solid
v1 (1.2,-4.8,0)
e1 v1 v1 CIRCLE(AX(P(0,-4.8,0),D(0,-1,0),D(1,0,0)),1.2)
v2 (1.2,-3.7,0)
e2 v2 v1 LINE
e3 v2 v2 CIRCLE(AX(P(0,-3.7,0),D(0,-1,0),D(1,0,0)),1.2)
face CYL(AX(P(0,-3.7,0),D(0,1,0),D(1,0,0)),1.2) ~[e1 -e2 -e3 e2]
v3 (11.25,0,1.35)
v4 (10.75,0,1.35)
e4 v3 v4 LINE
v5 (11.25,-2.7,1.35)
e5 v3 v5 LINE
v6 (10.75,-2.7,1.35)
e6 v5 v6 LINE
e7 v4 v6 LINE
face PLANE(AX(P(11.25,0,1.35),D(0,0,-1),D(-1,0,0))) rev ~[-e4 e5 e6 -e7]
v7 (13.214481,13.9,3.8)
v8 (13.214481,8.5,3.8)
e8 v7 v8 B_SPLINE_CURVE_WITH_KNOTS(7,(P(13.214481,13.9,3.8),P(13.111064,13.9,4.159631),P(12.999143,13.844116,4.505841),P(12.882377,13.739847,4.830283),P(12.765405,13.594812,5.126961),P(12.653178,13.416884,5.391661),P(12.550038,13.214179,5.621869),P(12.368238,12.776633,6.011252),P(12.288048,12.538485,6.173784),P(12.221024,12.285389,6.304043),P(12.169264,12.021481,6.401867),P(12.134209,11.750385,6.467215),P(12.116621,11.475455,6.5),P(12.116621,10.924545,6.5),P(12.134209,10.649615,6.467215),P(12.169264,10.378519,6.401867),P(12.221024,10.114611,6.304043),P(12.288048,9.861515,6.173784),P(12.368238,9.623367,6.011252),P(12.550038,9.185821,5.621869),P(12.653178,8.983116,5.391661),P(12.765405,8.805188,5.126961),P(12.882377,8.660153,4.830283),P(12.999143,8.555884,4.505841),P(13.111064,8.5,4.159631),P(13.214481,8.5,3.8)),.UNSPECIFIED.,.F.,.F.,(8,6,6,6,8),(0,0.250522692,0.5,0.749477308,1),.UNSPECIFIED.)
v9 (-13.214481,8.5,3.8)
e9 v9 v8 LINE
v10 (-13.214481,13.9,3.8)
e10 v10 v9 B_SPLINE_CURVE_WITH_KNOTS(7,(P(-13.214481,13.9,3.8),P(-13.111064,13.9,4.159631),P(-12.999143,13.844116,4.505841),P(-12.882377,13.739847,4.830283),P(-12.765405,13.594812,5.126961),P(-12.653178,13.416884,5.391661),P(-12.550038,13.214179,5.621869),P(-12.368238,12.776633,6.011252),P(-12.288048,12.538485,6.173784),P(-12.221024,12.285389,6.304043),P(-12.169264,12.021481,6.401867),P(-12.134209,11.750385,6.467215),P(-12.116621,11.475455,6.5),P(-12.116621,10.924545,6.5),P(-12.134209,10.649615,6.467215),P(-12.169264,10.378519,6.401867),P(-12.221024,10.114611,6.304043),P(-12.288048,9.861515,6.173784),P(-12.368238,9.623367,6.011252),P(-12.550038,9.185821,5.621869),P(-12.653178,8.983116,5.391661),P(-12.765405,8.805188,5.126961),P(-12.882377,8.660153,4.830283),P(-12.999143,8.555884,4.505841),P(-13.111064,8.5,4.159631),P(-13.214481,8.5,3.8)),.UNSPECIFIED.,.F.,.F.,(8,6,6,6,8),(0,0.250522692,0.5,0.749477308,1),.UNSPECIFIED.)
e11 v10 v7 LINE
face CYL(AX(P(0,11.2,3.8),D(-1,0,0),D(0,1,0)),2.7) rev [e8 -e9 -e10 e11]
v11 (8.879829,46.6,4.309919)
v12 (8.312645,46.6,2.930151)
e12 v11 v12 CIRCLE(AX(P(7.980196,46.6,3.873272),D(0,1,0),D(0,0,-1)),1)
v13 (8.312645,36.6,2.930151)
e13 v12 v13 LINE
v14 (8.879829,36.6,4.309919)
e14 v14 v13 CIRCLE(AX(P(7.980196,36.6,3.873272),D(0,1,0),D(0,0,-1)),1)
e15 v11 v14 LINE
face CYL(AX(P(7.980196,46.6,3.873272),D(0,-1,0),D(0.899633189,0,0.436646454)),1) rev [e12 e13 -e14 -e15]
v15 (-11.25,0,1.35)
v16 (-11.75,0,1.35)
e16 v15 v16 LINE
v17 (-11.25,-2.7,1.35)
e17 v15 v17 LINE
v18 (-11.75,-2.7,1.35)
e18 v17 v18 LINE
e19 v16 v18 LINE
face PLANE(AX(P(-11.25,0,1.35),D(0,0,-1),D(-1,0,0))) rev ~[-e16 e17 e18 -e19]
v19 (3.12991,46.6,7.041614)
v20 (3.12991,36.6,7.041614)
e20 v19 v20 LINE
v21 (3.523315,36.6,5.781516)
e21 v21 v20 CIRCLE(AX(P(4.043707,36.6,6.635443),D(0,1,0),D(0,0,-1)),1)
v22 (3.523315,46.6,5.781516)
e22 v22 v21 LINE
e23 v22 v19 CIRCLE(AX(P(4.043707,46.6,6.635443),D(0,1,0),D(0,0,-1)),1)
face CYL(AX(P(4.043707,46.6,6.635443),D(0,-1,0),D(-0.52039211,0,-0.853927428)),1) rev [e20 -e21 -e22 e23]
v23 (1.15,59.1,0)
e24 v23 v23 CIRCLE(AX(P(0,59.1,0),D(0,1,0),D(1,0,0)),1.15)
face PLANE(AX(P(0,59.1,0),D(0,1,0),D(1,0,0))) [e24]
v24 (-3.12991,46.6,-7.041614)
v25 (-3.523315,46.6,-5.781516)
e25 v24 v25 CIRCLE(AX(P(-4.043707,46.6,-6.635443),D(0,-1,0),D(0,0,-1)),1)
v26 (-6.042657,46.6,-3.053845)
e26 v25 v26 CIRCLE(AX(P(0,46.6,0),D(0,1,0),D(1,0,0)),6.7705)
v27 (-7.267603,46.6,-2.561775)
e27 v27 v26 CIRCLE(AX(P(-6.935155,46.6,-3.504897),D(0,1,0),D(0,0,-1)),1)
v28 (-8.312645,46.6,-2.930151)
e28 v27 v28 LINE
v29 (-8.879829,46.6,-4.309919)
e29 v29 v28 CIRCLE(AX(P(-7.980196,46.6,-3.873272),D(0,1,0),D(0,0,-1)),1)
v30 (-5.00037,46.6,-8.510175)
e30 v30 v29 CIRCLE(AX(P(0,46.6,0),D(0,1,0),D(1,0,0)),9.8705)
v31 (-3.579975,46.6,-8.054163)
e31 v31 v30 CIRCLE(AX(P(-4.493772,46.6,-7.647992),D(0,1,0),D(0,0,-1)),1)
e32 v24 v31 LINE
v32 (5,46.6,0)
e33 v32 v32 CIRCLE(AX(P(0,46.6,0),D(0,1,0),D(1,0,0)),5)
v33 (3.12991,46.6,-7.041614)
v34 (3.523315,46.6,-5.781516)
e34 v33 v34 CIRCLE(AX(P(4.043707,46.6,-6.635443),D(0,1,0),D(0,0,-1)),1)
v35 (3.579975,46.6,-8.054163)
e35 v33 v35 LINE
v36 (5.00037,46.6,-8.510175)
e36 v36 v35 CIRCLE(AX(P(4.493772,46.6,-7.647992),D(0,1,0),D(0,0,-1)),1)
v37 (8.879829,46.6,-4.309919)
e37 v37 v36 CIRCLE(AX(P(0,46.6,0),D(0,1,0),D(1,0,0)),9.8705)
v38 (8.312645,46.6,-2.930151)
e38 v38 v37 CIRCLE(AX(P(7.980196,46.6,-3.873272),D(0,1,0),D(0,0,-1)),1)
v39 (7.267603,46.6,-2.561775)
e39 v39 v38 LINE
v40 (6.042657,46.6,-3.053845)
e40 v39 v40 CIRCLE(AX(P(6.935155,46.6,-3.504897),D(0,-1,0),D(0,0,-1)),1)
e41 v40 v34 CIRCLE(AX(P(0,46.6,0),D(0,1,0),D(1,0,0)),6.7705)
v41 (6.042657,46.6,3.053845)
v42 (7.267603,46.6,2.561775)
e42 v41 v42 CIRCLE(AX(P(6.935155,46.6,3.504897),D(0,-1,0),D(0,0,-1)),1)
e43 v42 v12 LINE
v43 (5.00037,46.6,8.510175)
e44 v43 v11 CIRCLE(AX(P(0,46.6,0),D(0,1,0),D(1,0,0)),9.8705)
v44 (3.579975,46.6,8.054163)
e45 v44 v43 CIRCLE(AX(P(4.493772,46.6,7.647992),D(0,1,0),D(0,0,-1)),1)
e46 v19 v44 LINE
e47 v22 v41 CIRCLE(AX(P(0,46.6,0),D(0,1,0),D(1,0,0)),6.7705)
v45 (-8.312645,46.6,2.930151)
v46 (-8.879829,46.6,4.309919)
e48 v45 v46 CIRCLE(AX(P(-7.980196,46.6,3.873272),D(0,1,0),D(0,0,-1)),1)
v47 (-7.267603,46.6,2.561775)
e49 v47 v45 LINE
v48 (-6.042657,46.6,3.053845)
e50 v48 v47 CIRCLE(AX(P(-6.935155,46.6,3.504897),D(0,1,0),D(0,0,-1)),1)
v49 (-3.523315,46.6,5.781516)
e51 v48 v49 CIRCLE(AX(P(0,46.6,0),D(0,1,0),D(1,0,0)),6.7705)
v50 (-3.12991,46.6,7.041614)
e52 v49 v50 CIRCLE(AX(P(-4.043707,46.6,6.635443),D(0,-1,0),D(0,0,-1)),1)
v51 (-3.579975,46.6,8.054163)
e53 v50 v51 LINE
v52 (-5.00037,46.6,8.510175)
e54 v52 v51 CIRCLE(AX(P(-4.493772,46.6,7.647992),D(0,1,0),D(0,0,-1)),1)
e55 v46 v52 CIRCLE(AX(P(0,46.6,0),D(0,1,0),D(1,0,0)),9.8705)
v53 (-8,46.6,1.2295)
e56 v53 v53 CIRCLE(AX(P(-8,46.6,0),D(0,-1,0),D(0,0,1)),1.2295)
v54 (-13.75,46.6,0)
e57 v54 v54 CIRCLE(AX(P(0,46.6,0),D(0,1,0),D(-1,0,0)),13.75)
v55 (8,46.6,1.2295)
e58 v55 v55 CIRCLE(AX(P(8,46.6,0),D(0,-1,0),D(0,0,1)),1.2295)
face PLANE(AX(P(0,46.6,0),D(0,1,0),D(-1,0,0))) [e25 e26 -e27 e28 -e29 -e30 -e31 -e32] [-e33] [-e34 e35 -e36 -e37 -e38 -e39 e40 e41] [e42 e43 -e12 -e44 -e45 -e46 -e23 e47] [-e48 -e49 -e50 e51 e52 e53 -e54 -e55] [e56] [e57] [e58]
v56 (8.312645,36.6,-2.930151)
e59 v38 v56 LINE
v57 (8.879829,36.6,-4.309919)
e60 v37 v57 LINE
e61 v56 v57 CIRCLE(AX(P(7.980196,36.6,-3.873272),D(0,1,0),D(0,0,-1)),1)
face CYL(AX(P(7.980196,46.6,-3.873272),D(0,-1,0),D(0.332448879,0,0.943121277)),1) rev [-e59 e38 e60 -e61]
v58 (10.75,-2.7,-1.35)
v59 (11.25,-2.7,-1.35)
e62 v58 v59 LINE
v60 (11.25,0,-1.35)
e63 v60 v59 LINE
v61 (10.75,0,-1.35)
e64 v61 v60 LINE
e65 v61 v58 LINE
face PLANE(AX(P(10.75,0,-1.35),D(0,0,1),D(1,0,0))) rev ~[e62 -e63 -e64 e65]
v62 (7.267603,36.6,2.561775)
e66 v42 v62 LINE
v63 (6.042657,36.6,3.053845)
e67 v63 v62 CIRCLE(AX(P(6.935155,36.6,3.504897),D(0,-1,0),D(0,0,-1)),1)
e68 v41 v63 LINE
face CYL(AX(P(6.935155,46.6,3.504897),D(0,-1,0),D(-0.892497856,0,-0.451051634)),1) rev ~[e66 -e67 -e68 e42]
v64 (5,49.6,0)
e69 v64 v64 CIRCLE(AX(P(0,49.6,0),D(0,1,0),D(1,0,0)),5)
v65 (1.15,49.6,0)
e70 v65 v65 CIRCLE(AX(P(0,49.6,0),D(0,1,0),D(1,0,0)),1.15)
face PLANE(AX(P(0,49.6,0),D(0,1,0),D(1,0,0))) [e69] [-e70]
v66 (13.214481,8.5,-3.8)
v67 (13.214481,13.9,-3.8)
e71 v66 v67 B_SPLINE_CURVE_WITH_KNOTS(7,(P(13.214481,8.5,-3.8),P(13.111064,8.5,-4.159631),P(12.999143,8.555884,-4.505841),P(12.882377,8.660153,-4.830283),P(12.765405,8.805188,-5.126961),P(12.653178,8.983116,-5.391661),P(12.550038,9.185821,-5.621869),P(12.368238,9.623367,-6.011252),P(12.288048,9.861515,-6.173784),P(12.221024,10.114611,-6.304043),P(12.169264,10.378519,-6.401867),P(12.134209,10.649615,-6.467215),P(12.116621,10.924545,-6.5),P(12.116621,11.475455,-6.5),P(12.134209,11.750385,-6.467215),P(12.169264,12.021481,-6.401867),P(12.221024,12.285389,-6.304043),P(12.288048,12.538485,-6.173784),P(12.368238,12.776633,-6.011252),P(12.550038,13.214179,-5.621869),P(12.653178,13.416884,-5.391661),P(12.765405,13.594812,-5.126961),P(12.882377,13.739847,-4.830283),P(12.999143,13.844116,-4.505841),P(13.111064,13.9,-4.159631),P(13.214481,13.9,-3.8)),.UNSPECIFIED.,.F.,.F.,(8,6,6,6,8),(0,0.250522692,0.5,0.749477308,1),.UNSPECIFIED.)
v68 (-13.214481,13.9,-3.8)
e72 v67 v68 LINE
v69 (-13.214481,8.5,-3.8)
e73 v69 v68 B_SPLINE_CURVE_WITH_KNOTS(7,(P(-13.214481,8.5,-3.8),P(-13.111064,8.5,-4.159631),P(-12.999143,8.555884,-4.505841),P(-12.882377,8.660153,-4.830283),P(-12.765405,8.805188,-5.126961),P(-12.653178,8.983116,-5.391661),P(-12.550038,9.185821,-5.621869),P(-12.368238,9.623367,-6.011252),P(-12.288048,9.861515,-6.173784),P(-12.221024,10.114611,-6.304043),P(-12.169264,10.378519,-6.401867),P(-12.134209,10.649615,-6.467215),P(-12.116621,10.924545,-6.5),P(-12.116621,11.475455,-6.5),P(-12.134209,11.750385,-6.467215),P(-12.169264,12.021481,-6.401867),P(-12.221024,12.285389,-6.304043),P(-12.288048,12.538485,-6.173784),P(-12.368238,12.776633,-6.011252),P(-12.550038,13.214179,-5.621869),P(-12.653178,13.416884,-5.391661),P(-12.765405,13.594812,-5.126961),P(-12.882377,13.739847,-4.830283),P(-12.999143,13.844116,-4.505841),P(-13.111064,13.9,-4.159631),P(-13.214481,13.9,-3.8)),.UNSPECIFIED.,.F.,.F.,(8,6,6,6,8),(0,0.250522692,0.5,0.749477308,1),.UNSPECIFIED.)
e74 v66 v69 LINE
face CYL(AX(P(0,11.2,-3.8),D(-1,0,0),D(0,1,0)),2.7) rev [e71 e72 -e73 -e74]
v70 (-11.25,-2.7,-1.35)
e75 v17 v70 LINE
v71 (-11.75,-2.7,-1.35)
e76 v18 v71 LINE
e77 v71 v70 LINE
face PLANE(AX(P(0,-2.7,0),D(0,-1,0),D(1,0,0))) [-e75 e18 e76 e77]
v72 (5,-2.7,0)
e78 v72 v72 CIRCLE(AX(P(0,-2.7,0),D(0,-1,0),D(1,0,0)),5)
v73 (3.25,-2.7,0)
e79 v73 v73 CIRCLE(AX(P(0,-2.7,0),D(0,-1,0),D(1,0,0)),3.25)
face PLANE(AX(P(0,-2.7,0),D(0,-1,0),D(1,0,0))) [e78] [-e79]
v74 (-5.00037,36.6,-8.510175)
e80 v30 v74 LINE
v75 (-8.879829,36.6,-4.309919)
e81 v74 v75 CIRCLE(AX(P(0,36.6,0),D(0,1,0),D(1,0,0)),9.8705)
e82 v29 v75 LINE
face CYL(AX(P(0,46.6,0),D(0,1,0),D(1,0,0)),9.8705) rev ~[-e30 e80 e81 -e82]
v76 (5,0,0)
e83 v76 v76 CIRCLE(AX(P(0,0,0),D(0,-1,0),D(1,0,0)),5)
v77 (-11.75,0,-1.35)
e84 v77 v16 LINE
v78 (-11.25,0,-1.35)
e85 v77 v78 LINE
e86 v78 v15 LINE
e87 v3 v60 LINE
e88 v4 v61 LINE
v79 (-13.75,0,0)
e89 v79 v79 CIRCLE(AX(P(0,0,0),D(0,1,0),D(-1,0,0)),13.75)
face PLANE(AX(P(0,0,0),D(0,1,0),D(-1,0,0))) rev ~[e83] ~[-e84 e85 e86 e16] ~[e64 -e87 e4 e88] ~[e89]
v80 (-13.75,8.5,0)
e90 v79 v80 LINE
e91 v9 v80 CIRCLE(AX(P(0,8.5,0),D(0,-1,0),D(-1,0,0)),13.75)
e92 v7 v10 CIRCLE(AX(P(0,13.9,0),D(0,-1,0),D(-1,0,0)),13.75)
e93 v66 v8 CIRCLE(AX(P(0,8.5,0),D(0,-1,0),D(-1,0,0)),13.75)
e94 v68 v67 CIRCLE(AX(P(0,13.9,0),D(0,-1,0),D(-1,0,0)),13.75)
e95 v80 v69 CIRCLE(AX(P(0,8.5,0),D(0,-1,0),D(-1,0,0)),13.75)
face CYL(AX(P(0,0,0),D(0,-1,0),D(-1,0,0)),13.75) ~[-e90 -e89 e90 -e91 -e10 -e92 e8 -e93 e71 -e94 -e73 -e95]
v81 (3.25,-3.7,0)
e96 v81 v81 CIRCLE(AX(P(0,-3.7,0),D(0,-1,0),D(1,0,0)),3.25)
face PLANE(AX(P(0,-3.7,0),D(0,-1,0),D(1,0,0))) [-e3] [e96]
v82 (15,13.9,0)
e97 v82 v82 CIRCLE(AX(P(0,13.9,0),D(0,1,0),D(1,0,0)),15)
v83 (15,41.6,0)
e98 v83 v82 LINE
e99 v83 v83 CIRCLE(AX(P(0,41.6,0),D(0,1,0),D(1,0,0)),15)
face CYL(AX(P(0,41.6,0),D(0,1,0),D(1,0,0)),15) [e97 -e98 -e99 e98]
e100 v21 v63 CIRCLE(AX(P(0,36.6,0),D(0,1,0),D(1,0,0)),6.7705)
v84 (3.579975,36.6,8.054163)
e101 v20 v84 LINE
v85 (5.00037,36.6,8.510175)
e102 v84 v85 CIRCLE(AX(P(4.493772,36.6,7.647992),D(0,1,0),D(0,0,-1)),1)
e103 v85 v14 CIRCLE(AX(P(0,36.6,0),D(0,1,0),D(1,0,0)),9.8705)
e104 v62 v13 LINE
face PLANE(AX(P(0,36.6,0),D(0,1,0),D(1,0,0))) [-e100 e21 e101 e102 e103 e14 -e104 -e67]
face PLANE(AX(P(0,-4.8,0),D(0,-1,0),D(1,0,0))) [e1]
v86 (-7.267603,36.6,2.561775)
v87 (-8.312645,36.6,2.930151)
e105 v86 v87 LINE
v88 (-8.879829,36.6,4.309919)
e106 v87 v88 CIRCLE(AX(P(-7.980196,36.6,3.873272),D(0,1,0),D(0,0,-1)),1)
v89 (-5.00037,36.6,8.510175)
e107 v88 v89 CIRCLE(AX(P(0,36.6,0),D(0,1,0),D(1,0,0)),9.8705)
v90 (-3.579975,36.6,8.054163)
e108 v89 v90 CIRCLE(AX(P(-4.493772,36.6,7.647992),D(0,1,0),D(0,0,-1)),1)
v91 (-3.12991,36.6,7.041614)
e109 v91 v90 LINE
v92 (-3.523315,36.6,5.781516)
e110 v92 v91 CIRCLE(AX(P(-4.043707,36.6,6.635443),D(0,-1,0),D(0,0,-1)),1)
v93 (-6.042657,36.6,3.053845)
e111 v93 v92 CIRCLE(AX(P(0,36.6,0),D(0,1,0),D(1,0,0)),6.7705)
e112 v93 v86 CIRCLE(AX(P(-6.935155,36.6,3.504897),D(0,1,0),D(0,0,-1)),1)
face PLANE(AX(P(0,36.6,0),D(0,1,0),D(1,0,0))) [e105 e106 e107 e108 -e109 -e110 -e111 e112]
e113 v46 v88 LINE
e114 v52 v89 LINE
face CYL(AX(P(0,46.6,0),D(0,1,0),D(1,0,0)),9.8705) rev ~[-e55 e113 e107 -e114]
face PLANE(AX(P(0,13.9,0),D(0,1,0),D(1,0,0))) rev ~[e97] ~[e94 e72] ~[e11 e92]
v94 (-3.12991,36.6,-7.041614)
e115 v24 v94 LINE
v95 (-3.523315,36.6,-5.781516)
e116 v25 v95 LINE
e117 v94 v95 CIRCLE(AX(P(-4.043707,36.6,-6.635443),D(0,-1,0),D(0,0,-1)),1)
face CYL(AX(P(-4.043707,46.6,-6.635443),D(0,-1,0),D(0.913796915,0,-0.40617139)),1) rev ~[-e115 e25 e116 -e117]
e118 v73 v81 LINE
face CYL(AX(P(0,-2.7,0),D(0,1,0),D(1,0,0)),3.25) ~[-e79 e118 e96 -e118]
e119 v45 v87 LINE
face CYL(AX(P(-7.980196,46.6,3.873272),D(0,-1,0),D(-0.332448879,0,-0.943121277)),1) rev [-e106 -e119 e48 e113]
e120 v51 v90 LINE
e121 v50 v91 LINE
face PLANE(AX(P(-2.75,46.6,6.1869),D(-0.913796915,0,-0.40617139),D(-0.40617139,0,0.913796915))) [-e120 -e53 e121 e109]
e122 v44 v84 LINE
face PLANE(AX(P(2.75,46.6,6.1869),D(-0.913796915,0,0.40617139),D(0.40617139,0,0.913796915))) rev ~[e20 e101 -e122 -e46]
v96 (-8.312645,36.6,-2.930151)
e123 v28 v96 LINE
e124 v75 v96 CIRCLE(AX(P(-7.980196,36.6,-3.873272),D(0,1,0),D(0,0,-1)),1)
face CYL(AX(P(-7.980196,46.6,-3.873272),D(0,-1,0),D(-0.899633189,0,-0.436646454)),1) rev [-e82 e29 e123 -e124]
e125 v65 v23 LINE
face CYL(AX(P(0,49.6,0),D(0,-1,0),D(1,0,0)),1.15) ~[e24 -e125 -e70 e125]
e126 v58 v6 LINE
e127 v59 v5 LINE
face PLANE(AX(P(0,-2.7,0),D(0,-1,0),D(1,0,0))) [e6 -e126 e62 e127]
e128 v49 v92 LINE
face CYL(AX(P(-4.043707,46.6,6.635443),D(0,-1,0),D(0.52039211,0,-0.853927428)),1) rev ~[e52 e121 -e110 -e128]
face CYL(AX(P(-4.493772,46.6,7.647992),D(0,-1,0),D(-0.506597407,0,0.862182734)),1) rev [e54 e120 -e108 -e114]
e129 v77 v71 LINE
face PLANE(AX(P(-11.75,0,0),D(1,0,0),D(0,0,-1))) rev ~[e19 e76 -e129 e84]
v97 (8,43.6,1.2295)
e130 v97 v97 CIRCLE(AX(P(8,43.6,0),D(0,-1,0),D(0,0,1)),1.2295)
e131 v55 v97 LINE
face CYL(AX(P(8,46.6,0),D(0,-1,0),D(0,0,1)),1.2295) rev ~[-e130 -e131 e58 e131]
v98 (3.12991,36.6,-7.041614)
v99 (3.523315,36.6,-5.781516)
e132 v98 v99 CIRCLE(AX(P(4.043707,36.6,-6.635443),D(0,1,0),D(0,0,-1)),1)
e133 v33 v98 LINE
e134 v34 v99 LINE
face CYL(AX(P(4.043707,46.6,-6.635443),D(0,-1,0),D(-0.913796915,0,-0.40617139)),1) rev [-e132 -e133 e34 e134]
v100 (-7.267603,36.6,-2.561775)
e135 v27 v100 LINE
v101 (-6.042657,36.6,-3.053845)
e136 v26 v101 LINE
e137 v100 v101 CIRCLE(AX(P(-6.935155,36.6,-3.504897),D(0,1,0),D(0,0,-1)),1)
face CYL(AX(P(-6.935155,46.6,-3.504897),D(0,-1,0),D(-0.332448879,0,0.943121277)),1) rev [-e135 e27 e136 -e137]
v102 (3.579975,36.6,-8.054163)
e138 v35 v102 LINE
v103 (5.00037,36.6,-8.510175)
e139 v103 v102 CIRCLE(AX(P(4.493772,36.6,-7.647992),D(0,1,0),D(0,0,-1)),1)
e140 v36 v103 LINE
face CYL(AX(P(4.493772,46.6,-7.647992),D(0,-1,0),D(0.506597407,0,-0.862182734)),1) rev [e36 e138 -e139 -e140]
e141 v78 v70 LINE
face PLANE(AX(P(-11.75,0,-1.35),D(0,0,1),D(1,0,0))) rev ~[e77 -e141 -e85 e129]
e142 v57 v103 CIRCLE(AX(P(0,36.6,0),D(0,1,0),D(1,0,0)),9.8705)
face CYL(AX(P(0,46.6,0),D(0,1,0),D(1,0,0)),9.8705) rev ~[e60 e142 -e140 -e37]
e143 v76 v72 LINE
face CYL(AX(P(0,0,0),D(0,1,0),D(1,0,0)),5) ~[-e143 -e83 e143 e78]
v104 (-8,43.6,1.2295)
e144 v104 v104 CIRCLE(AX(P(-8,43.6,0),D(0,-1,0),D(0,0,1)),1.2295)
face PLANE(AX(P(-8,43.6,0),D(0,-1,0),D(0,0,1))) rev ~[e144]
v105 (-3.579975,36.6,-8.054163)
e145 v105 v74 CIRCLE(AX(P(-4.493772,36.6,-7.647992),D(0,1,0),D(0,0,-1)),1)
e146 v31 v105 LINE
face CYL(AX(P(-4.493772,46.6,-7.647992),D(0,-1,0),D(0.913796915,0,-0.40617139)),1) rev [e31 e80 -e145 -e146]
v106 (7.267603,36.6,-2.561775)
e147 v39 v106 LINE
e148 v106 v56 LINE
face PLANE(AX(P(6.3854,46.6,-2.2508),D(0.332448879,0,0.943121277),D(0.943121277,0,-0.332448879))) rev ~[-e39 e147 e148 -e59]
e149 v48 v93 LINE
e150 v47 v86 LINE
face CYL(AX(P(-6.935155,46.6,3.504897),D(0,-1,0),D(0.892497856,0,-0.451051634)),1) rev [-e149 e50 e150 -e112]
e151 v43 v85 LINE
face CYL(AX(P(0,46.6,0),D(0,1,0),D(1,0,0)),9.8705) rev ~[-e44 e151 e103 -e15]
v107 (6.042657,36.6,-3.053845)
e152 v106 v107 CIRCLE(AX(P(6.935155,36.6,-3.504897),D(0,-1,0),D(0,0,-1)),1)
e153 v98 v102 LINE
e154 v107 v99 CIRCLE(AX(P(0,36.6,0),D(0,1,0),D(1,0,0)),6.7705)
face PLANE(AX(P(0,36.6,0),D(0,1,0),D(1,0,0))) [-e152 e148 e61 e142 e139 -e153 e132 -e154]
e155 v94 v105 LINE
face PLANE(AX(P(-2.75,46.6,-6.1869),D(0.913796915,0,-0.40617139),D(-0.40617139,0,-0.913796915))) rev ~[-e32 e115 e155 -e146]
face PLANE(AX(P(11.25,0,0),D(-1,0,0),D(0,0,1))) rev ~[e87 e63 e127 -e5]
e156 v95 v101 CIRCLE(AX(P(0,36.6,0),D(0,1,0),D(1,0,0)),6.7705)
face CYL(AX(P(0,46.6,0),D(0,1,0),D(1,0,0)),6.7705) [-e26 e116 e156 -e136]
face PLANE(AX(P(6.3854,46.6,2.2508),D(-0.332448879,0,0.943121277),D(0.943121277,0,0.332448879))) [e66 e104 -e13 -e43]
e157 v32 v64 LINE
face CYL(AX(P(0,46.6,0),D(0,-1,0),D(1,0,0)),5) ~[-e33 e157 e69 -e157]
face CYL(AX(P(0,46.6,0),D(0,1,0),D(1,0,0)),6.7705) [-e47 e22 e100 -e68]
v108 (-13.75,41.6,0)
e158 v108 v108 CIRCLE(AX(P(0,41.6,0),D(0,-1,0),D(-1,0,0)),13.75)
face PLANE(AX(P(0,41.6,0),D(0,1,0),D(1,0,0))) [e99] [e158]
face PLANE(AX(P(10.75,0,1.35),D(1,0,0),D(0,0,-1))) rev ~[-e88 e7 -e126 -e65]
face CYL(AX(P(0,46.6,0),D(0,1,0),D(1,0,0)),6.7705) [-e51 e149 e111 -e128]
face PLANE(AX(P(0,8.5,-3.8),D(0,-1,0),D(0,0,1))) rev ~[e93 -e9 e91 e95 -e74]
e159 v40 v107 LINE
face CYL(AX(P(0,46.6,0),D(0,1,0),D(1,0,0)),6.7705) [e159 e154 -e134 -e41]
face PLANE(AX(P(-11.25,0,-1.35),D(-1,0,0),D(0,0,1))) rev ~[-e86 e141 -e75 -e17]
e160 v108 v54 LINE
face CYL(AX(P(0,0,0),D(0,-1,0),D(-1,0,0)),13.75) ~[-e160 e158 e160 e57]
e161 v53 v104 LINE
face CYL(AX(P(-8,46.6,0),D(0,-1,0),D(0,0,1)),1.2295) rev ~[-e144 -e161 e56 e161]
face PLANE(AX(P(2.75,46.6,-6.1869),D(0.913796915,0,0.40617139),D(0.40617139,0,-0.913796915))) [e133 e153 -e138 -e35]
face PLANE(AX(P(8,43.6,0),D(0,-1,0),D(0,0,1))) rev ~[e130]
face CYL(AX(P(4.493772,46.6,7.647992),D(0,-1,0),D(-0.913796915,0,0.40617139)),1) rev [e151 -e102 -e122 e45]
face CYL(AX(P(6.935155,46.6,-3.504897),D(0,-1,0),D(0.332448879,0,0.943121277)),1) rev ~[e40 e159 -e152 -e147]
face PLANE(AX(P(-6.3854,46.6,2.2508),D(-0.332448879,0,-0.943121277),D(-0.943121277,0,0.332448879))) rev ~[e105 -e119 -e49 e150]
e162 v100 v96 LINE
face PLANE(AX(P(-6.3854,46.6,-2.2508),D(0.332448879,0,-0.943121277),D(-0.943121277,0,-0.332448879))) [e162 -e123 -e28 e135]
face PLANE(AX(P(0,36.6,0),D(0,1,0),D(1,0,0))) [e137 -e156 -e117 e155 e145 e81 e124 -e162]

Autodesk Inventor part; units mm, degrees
ref_plane "YZ Plane" through (0, 0, 0) normal (1, 0, 0) x (0, 1, 0)
sketch "Sketch1" plane through (0, 0, 0) normal (0, 1, 0) x (-1, 0, 0)
  circle A0 centre (0, 0) radius 13.75
  dimension "d0" = 27.5
extrude "Extrusion1" add sketch "Sketch1" along normal blind 46.6
sketch "Sketch2" plane through (0, 46.6, 0) normal (0, 1, 0) x (1, 0, 0)
  circle A0 centre (0, 0) radius 13.75 projected
  circle A1 centre (0, 0) radius 5
  dimension "d3" = 10
extrude "Extrusion2" add sketch "Sketch2" along normal blind 3 contours A1
sketch "Sketch3" plane through (0, 46.6, 0) normal (0, 1, 0) x (1, 0, 0)
  circle A0 centre (0, 0) radius 5 projected
  circle A1 centre (0, 0) radius 5 projected
  circle A2 centre (0, 0) radius 13.75 projected
  circle A3 centre (0, 0) radius 13.75 projected
  line L0 (-13.75, 0) -> (13.75, 0)
  point P0 (-8, 0)
  point P1 (8, 0)
  dimension "d6" = 16
  dimension "d7" = 5.75
  dimension "d8" = 5.75
hole "Hole1" at (-8, 46.6, 0) at (8, 46.6, 0) direction (0, -1, 0) diameter 2.459 depth 3 thread size "M3x0.5" class "6H" standard "ISO Metric profile"
ref_plane "Work Plane1" through (0, 41.6, 0) normal (0, 1, 0) x (1, 0, 0)
sketch "Sketch4" plane through (0, 41.6, 0) normal (0, 1, 0) x (1, 0, 0)
  circle A0 centre (0, 0) radius 15
  dimension "d17" = 30
extrude "Extrusion3" add sketch "Sketch4" against normal blind 27.7
sketch "Sketch5" plane through (0, 0, 0) normal (0, -1, 0) x (1, 0, 0)
  circle A0 centre (0, 0) radius 5
  dimension "d20" = 10
extrude "Extrusion4" add sketch "Sketch5" along normal blind 2.7
sketch "Sketch6" plane through (0, 0, 0) normal (0, -1, 0) x (1, 0, 0)
  circle A0 centre (0, 0) radius 5 projected
  circle A1 centre (0, 0) radius 5 projected
  circle A2 centre (0, 0) radius 13.75 projected
  circle A3 centre (0, 0) radius 13.75 projected
  line L0 (13.75, 0) -> (-13.75, 0)
  line L1 (-11.25, 1.35) -> (-11.75, 1.35)
  line L2 (-11.75, 1.35) -> (-11.75, -1.35)
  line L3 (-11.75, -1.35) -> (-11.25, -1.35)
  line L4 (-11.25, -1.35) -> (-11.25, 1.35)
  line L5 (11.25, 1.35) -> (10.75, 1.35)
  line L6 (10.75, 1.35) -> (10.75, -1.35)
  line L7 (10.75, -1.35) -> (11.25, -1.35)
  line L8 (11.25, -1.35) -> (11.25, 1.35)
  dimension "d23" = 22
  dimension "d24" = 0.5
  dimension "d25" = 0.5
  dimension "d26" = 11.25
  dimension "d27" = 11.25
  dimension "d28" = 2.7
  dimension "d29" = 2.7
  dimension "d30" = 1.35
  dimension "d31" = 1.35
extrude "Extrusion5" add sketch "Sketch6" along normal up to surface (2.7 mm away) contours L6 L5 L8 L0 | L0 L8 L7 L6 | L4 L3 L2 L0 | L0 L2 L1 L4
sketch "Sketch7" plane through (0, 49.6, 0) normal (0, 1, 0) x (1, 0, 0)
  circle A0 centre (0, 0) radius 1.15
  dimension "d34" = 2.3
extrude "Extrusion6" add sketch "Sketch7" along normal blind 9.5
ref_plane "Work Plane2" through (0, 50.6, 0) normal (0, 1, 0) x (1, 0, 0)
sketch "Sketch10" plane through (0, 0, 0) normal (1, 0, 0) x (0, 1, 0)
  line L0 (0, -13.75) -> (0, 13.75) projected
  line L1 (13.9, 13.75) -> (13.9, -13.75) projected
  line L2 (8.5, 3.8) -> (13.9, 3.8)
  line L3 (13.9, 3.8) -> (13.9, -3.8)
  line L4 (13.9, -3.8) -> (8.5, -3.8)
  line L5 (8.5, -3.8) -> (8.5, 3.8)
  circle A0 centre (11.2, 3.8) radius 2.7
  circle A1 centre (11.2, -3.8) radius 2.7
  line L6 (0, 0) -> (13.9, 0)
  line L7 (13.9, 13.75) -> (13.9, -13.75) projected
  line L8 (0, -13.75) -> (13.9, -13.75) projected
  point P0 (11.2, -6.5)
  point P1 (11.2, 6.5)
  dimension "d57" = 8.5
  dimension "d59" = 0
  dimension "d60" = 5.4
  dimension "d61" = 13.9
  dimension "d65" = 3.8
  dimension "d66" = 3.8
  dimension "d80" = 5.4
  dimension "d81" = 5.4
  dimension "d82" = 2.7
  dimension "d83" = 2.7
  dimension "d84" = 13
extrude "Extrusion9" cut sketch "Sketch10" along normal mid plane 31.5 contours L6 L1 A1 L5 | L5 A0 L1 L6 | A1 L4 | L4 A1 | A0 L2 | L2 A0
sketch "Sketch12" plane through (0, 46.6, 0) normal (0, 1, 0) x (1, 0, 0)
  circle A0 centre (0, 0) radius 1.15 projected
  circle A1 centre (0, 0) radius 5 projected
  circle A2 centre (-8, 0) radius 1.2295 projected
  circle A3 centre (8, 0) radius 1.2295 projected
  circle A4 centre (0, 0) radius 5 projected
  circle A5 centre (0, 0) radius 13.75 projected
  circle A6 centre (0, 0) radius 13.75 projected
  line L0 (-13.75, 0) -> (13.75, 0)
  line L1 (0, 13.75) -> (0, -13.75)
  circle A7 centre (0, 0) radius 6.7705
  circle A8 centre (0, 0) radius 9.8705
  line L2 (-2.75, 6.1869) -> (-4.0091, 9.0196)
  line L3 (-6.3854, 2.2508) -> (-9.3091, 3.2814)
  line L4 (2.75, 6.1869) -> (4.0091, 9.0196)
  line L5 (6.3854, 2.2508) -> (9.3091, 3.2814)
  circle A9 centre (-8, 0) radius 1.2295 projected
  circle A10 centre (8, 0) radius 1.2295 projected
  line L6 (-2.75, -6.1869) -> (-4.0091, -9.0196)
  line L7 (-6.3854, -2.2508) -> (-9.3091, -3.2814)
  line L8 (2.75, -6.1869) -> (4.0091, -9.0196)
  line L9 (6.3854, -2.2508) -> (9.3091, -3.2814)
  point P0 (0, 6.7705)
  point P1 (0, 9.8705)
  point P2 (-8, 1.2295)
  point P3 (8, 1.2295)
  dimension "d85" = 3.1
  dimension "d86" = 5.5
  dimension "d87" = 4.0091
  dimension "d88" = 4.0091
  dimension "d89" = 1.5
  dimension "d90" = 1.5
  dimension "d91" = 1.2295
  dimension "d92" = 2.459
  dimension "d93" = 2.459
  dimension "d94" = 1.2295
extrude "Extrusion11" cut sketch "Sketch12" against normal blind 10 contours A7 L4 A8 L5 | L9 A8 L8 A7 | A7 L3 A8 L2 | L6 A8 L7 A7
fillet "Fillet1" radius 1 16 edges at (-4.0091, 41.6, -9.0196) (-2.75, 41.6, -6.1869) (-6.3854, 41.6, -2.2508) (-9.3091, 41.6, -3.2814) (9.3091, 41.6, -3.2814) (6.3854, 41.6, -2.2508) (4.0091, 41.6, -9.0196) (9.3091, 41.6, 3.2814) (6.3854, 41.6, 2.2508) (4.0091, 41.6, 9.0196) (2.75, 41.6, 6.1869) (-4.0091, 41.6, 9.0196) (-9.3091, 41.6, 3.2814) (-6.3854, 41.6, 2.2508) (-2.75, 41.6, 6.1869) (2.75, 41.6, -6.1869)
sketch "Sketch13" plane through (0, -2.7, 0) normal (0, -1, 0) x (1, 0, 0)
  circle A0 centre (0, 0) radius 3.25
  dimension "d98" = 6.5
extrude "Extrusion12" add sketch "Sketch13" along normal blind 1
sketch "Sketch14" plane through (0, -3.7, 0) normal (0, -1, 0) x (1, 0, 0)
  circle A0 centre (0, 0) radius 1.2
  dimension "d101" = 2.4
extrude "Extrusion13" add sketch "Sketch14" along normal blind 1.1
equation "\"d7\" = d8"
equation "\"d26\" = d27"
equation "\"d30\" = d31"
equation "\"d65\" = d66"
equation "\"d82\" = 0.5 * d80"
equation "\"d83\" = 0.5 * d81"
equation "\"d87\" = d88"
equation "\"d91\" = 0.5 * d92"
equation "\"d94\" = 0.5 * d93"
equation "\"d41\" = d42"
properties part number "rs390" material "Steel, Mild"
